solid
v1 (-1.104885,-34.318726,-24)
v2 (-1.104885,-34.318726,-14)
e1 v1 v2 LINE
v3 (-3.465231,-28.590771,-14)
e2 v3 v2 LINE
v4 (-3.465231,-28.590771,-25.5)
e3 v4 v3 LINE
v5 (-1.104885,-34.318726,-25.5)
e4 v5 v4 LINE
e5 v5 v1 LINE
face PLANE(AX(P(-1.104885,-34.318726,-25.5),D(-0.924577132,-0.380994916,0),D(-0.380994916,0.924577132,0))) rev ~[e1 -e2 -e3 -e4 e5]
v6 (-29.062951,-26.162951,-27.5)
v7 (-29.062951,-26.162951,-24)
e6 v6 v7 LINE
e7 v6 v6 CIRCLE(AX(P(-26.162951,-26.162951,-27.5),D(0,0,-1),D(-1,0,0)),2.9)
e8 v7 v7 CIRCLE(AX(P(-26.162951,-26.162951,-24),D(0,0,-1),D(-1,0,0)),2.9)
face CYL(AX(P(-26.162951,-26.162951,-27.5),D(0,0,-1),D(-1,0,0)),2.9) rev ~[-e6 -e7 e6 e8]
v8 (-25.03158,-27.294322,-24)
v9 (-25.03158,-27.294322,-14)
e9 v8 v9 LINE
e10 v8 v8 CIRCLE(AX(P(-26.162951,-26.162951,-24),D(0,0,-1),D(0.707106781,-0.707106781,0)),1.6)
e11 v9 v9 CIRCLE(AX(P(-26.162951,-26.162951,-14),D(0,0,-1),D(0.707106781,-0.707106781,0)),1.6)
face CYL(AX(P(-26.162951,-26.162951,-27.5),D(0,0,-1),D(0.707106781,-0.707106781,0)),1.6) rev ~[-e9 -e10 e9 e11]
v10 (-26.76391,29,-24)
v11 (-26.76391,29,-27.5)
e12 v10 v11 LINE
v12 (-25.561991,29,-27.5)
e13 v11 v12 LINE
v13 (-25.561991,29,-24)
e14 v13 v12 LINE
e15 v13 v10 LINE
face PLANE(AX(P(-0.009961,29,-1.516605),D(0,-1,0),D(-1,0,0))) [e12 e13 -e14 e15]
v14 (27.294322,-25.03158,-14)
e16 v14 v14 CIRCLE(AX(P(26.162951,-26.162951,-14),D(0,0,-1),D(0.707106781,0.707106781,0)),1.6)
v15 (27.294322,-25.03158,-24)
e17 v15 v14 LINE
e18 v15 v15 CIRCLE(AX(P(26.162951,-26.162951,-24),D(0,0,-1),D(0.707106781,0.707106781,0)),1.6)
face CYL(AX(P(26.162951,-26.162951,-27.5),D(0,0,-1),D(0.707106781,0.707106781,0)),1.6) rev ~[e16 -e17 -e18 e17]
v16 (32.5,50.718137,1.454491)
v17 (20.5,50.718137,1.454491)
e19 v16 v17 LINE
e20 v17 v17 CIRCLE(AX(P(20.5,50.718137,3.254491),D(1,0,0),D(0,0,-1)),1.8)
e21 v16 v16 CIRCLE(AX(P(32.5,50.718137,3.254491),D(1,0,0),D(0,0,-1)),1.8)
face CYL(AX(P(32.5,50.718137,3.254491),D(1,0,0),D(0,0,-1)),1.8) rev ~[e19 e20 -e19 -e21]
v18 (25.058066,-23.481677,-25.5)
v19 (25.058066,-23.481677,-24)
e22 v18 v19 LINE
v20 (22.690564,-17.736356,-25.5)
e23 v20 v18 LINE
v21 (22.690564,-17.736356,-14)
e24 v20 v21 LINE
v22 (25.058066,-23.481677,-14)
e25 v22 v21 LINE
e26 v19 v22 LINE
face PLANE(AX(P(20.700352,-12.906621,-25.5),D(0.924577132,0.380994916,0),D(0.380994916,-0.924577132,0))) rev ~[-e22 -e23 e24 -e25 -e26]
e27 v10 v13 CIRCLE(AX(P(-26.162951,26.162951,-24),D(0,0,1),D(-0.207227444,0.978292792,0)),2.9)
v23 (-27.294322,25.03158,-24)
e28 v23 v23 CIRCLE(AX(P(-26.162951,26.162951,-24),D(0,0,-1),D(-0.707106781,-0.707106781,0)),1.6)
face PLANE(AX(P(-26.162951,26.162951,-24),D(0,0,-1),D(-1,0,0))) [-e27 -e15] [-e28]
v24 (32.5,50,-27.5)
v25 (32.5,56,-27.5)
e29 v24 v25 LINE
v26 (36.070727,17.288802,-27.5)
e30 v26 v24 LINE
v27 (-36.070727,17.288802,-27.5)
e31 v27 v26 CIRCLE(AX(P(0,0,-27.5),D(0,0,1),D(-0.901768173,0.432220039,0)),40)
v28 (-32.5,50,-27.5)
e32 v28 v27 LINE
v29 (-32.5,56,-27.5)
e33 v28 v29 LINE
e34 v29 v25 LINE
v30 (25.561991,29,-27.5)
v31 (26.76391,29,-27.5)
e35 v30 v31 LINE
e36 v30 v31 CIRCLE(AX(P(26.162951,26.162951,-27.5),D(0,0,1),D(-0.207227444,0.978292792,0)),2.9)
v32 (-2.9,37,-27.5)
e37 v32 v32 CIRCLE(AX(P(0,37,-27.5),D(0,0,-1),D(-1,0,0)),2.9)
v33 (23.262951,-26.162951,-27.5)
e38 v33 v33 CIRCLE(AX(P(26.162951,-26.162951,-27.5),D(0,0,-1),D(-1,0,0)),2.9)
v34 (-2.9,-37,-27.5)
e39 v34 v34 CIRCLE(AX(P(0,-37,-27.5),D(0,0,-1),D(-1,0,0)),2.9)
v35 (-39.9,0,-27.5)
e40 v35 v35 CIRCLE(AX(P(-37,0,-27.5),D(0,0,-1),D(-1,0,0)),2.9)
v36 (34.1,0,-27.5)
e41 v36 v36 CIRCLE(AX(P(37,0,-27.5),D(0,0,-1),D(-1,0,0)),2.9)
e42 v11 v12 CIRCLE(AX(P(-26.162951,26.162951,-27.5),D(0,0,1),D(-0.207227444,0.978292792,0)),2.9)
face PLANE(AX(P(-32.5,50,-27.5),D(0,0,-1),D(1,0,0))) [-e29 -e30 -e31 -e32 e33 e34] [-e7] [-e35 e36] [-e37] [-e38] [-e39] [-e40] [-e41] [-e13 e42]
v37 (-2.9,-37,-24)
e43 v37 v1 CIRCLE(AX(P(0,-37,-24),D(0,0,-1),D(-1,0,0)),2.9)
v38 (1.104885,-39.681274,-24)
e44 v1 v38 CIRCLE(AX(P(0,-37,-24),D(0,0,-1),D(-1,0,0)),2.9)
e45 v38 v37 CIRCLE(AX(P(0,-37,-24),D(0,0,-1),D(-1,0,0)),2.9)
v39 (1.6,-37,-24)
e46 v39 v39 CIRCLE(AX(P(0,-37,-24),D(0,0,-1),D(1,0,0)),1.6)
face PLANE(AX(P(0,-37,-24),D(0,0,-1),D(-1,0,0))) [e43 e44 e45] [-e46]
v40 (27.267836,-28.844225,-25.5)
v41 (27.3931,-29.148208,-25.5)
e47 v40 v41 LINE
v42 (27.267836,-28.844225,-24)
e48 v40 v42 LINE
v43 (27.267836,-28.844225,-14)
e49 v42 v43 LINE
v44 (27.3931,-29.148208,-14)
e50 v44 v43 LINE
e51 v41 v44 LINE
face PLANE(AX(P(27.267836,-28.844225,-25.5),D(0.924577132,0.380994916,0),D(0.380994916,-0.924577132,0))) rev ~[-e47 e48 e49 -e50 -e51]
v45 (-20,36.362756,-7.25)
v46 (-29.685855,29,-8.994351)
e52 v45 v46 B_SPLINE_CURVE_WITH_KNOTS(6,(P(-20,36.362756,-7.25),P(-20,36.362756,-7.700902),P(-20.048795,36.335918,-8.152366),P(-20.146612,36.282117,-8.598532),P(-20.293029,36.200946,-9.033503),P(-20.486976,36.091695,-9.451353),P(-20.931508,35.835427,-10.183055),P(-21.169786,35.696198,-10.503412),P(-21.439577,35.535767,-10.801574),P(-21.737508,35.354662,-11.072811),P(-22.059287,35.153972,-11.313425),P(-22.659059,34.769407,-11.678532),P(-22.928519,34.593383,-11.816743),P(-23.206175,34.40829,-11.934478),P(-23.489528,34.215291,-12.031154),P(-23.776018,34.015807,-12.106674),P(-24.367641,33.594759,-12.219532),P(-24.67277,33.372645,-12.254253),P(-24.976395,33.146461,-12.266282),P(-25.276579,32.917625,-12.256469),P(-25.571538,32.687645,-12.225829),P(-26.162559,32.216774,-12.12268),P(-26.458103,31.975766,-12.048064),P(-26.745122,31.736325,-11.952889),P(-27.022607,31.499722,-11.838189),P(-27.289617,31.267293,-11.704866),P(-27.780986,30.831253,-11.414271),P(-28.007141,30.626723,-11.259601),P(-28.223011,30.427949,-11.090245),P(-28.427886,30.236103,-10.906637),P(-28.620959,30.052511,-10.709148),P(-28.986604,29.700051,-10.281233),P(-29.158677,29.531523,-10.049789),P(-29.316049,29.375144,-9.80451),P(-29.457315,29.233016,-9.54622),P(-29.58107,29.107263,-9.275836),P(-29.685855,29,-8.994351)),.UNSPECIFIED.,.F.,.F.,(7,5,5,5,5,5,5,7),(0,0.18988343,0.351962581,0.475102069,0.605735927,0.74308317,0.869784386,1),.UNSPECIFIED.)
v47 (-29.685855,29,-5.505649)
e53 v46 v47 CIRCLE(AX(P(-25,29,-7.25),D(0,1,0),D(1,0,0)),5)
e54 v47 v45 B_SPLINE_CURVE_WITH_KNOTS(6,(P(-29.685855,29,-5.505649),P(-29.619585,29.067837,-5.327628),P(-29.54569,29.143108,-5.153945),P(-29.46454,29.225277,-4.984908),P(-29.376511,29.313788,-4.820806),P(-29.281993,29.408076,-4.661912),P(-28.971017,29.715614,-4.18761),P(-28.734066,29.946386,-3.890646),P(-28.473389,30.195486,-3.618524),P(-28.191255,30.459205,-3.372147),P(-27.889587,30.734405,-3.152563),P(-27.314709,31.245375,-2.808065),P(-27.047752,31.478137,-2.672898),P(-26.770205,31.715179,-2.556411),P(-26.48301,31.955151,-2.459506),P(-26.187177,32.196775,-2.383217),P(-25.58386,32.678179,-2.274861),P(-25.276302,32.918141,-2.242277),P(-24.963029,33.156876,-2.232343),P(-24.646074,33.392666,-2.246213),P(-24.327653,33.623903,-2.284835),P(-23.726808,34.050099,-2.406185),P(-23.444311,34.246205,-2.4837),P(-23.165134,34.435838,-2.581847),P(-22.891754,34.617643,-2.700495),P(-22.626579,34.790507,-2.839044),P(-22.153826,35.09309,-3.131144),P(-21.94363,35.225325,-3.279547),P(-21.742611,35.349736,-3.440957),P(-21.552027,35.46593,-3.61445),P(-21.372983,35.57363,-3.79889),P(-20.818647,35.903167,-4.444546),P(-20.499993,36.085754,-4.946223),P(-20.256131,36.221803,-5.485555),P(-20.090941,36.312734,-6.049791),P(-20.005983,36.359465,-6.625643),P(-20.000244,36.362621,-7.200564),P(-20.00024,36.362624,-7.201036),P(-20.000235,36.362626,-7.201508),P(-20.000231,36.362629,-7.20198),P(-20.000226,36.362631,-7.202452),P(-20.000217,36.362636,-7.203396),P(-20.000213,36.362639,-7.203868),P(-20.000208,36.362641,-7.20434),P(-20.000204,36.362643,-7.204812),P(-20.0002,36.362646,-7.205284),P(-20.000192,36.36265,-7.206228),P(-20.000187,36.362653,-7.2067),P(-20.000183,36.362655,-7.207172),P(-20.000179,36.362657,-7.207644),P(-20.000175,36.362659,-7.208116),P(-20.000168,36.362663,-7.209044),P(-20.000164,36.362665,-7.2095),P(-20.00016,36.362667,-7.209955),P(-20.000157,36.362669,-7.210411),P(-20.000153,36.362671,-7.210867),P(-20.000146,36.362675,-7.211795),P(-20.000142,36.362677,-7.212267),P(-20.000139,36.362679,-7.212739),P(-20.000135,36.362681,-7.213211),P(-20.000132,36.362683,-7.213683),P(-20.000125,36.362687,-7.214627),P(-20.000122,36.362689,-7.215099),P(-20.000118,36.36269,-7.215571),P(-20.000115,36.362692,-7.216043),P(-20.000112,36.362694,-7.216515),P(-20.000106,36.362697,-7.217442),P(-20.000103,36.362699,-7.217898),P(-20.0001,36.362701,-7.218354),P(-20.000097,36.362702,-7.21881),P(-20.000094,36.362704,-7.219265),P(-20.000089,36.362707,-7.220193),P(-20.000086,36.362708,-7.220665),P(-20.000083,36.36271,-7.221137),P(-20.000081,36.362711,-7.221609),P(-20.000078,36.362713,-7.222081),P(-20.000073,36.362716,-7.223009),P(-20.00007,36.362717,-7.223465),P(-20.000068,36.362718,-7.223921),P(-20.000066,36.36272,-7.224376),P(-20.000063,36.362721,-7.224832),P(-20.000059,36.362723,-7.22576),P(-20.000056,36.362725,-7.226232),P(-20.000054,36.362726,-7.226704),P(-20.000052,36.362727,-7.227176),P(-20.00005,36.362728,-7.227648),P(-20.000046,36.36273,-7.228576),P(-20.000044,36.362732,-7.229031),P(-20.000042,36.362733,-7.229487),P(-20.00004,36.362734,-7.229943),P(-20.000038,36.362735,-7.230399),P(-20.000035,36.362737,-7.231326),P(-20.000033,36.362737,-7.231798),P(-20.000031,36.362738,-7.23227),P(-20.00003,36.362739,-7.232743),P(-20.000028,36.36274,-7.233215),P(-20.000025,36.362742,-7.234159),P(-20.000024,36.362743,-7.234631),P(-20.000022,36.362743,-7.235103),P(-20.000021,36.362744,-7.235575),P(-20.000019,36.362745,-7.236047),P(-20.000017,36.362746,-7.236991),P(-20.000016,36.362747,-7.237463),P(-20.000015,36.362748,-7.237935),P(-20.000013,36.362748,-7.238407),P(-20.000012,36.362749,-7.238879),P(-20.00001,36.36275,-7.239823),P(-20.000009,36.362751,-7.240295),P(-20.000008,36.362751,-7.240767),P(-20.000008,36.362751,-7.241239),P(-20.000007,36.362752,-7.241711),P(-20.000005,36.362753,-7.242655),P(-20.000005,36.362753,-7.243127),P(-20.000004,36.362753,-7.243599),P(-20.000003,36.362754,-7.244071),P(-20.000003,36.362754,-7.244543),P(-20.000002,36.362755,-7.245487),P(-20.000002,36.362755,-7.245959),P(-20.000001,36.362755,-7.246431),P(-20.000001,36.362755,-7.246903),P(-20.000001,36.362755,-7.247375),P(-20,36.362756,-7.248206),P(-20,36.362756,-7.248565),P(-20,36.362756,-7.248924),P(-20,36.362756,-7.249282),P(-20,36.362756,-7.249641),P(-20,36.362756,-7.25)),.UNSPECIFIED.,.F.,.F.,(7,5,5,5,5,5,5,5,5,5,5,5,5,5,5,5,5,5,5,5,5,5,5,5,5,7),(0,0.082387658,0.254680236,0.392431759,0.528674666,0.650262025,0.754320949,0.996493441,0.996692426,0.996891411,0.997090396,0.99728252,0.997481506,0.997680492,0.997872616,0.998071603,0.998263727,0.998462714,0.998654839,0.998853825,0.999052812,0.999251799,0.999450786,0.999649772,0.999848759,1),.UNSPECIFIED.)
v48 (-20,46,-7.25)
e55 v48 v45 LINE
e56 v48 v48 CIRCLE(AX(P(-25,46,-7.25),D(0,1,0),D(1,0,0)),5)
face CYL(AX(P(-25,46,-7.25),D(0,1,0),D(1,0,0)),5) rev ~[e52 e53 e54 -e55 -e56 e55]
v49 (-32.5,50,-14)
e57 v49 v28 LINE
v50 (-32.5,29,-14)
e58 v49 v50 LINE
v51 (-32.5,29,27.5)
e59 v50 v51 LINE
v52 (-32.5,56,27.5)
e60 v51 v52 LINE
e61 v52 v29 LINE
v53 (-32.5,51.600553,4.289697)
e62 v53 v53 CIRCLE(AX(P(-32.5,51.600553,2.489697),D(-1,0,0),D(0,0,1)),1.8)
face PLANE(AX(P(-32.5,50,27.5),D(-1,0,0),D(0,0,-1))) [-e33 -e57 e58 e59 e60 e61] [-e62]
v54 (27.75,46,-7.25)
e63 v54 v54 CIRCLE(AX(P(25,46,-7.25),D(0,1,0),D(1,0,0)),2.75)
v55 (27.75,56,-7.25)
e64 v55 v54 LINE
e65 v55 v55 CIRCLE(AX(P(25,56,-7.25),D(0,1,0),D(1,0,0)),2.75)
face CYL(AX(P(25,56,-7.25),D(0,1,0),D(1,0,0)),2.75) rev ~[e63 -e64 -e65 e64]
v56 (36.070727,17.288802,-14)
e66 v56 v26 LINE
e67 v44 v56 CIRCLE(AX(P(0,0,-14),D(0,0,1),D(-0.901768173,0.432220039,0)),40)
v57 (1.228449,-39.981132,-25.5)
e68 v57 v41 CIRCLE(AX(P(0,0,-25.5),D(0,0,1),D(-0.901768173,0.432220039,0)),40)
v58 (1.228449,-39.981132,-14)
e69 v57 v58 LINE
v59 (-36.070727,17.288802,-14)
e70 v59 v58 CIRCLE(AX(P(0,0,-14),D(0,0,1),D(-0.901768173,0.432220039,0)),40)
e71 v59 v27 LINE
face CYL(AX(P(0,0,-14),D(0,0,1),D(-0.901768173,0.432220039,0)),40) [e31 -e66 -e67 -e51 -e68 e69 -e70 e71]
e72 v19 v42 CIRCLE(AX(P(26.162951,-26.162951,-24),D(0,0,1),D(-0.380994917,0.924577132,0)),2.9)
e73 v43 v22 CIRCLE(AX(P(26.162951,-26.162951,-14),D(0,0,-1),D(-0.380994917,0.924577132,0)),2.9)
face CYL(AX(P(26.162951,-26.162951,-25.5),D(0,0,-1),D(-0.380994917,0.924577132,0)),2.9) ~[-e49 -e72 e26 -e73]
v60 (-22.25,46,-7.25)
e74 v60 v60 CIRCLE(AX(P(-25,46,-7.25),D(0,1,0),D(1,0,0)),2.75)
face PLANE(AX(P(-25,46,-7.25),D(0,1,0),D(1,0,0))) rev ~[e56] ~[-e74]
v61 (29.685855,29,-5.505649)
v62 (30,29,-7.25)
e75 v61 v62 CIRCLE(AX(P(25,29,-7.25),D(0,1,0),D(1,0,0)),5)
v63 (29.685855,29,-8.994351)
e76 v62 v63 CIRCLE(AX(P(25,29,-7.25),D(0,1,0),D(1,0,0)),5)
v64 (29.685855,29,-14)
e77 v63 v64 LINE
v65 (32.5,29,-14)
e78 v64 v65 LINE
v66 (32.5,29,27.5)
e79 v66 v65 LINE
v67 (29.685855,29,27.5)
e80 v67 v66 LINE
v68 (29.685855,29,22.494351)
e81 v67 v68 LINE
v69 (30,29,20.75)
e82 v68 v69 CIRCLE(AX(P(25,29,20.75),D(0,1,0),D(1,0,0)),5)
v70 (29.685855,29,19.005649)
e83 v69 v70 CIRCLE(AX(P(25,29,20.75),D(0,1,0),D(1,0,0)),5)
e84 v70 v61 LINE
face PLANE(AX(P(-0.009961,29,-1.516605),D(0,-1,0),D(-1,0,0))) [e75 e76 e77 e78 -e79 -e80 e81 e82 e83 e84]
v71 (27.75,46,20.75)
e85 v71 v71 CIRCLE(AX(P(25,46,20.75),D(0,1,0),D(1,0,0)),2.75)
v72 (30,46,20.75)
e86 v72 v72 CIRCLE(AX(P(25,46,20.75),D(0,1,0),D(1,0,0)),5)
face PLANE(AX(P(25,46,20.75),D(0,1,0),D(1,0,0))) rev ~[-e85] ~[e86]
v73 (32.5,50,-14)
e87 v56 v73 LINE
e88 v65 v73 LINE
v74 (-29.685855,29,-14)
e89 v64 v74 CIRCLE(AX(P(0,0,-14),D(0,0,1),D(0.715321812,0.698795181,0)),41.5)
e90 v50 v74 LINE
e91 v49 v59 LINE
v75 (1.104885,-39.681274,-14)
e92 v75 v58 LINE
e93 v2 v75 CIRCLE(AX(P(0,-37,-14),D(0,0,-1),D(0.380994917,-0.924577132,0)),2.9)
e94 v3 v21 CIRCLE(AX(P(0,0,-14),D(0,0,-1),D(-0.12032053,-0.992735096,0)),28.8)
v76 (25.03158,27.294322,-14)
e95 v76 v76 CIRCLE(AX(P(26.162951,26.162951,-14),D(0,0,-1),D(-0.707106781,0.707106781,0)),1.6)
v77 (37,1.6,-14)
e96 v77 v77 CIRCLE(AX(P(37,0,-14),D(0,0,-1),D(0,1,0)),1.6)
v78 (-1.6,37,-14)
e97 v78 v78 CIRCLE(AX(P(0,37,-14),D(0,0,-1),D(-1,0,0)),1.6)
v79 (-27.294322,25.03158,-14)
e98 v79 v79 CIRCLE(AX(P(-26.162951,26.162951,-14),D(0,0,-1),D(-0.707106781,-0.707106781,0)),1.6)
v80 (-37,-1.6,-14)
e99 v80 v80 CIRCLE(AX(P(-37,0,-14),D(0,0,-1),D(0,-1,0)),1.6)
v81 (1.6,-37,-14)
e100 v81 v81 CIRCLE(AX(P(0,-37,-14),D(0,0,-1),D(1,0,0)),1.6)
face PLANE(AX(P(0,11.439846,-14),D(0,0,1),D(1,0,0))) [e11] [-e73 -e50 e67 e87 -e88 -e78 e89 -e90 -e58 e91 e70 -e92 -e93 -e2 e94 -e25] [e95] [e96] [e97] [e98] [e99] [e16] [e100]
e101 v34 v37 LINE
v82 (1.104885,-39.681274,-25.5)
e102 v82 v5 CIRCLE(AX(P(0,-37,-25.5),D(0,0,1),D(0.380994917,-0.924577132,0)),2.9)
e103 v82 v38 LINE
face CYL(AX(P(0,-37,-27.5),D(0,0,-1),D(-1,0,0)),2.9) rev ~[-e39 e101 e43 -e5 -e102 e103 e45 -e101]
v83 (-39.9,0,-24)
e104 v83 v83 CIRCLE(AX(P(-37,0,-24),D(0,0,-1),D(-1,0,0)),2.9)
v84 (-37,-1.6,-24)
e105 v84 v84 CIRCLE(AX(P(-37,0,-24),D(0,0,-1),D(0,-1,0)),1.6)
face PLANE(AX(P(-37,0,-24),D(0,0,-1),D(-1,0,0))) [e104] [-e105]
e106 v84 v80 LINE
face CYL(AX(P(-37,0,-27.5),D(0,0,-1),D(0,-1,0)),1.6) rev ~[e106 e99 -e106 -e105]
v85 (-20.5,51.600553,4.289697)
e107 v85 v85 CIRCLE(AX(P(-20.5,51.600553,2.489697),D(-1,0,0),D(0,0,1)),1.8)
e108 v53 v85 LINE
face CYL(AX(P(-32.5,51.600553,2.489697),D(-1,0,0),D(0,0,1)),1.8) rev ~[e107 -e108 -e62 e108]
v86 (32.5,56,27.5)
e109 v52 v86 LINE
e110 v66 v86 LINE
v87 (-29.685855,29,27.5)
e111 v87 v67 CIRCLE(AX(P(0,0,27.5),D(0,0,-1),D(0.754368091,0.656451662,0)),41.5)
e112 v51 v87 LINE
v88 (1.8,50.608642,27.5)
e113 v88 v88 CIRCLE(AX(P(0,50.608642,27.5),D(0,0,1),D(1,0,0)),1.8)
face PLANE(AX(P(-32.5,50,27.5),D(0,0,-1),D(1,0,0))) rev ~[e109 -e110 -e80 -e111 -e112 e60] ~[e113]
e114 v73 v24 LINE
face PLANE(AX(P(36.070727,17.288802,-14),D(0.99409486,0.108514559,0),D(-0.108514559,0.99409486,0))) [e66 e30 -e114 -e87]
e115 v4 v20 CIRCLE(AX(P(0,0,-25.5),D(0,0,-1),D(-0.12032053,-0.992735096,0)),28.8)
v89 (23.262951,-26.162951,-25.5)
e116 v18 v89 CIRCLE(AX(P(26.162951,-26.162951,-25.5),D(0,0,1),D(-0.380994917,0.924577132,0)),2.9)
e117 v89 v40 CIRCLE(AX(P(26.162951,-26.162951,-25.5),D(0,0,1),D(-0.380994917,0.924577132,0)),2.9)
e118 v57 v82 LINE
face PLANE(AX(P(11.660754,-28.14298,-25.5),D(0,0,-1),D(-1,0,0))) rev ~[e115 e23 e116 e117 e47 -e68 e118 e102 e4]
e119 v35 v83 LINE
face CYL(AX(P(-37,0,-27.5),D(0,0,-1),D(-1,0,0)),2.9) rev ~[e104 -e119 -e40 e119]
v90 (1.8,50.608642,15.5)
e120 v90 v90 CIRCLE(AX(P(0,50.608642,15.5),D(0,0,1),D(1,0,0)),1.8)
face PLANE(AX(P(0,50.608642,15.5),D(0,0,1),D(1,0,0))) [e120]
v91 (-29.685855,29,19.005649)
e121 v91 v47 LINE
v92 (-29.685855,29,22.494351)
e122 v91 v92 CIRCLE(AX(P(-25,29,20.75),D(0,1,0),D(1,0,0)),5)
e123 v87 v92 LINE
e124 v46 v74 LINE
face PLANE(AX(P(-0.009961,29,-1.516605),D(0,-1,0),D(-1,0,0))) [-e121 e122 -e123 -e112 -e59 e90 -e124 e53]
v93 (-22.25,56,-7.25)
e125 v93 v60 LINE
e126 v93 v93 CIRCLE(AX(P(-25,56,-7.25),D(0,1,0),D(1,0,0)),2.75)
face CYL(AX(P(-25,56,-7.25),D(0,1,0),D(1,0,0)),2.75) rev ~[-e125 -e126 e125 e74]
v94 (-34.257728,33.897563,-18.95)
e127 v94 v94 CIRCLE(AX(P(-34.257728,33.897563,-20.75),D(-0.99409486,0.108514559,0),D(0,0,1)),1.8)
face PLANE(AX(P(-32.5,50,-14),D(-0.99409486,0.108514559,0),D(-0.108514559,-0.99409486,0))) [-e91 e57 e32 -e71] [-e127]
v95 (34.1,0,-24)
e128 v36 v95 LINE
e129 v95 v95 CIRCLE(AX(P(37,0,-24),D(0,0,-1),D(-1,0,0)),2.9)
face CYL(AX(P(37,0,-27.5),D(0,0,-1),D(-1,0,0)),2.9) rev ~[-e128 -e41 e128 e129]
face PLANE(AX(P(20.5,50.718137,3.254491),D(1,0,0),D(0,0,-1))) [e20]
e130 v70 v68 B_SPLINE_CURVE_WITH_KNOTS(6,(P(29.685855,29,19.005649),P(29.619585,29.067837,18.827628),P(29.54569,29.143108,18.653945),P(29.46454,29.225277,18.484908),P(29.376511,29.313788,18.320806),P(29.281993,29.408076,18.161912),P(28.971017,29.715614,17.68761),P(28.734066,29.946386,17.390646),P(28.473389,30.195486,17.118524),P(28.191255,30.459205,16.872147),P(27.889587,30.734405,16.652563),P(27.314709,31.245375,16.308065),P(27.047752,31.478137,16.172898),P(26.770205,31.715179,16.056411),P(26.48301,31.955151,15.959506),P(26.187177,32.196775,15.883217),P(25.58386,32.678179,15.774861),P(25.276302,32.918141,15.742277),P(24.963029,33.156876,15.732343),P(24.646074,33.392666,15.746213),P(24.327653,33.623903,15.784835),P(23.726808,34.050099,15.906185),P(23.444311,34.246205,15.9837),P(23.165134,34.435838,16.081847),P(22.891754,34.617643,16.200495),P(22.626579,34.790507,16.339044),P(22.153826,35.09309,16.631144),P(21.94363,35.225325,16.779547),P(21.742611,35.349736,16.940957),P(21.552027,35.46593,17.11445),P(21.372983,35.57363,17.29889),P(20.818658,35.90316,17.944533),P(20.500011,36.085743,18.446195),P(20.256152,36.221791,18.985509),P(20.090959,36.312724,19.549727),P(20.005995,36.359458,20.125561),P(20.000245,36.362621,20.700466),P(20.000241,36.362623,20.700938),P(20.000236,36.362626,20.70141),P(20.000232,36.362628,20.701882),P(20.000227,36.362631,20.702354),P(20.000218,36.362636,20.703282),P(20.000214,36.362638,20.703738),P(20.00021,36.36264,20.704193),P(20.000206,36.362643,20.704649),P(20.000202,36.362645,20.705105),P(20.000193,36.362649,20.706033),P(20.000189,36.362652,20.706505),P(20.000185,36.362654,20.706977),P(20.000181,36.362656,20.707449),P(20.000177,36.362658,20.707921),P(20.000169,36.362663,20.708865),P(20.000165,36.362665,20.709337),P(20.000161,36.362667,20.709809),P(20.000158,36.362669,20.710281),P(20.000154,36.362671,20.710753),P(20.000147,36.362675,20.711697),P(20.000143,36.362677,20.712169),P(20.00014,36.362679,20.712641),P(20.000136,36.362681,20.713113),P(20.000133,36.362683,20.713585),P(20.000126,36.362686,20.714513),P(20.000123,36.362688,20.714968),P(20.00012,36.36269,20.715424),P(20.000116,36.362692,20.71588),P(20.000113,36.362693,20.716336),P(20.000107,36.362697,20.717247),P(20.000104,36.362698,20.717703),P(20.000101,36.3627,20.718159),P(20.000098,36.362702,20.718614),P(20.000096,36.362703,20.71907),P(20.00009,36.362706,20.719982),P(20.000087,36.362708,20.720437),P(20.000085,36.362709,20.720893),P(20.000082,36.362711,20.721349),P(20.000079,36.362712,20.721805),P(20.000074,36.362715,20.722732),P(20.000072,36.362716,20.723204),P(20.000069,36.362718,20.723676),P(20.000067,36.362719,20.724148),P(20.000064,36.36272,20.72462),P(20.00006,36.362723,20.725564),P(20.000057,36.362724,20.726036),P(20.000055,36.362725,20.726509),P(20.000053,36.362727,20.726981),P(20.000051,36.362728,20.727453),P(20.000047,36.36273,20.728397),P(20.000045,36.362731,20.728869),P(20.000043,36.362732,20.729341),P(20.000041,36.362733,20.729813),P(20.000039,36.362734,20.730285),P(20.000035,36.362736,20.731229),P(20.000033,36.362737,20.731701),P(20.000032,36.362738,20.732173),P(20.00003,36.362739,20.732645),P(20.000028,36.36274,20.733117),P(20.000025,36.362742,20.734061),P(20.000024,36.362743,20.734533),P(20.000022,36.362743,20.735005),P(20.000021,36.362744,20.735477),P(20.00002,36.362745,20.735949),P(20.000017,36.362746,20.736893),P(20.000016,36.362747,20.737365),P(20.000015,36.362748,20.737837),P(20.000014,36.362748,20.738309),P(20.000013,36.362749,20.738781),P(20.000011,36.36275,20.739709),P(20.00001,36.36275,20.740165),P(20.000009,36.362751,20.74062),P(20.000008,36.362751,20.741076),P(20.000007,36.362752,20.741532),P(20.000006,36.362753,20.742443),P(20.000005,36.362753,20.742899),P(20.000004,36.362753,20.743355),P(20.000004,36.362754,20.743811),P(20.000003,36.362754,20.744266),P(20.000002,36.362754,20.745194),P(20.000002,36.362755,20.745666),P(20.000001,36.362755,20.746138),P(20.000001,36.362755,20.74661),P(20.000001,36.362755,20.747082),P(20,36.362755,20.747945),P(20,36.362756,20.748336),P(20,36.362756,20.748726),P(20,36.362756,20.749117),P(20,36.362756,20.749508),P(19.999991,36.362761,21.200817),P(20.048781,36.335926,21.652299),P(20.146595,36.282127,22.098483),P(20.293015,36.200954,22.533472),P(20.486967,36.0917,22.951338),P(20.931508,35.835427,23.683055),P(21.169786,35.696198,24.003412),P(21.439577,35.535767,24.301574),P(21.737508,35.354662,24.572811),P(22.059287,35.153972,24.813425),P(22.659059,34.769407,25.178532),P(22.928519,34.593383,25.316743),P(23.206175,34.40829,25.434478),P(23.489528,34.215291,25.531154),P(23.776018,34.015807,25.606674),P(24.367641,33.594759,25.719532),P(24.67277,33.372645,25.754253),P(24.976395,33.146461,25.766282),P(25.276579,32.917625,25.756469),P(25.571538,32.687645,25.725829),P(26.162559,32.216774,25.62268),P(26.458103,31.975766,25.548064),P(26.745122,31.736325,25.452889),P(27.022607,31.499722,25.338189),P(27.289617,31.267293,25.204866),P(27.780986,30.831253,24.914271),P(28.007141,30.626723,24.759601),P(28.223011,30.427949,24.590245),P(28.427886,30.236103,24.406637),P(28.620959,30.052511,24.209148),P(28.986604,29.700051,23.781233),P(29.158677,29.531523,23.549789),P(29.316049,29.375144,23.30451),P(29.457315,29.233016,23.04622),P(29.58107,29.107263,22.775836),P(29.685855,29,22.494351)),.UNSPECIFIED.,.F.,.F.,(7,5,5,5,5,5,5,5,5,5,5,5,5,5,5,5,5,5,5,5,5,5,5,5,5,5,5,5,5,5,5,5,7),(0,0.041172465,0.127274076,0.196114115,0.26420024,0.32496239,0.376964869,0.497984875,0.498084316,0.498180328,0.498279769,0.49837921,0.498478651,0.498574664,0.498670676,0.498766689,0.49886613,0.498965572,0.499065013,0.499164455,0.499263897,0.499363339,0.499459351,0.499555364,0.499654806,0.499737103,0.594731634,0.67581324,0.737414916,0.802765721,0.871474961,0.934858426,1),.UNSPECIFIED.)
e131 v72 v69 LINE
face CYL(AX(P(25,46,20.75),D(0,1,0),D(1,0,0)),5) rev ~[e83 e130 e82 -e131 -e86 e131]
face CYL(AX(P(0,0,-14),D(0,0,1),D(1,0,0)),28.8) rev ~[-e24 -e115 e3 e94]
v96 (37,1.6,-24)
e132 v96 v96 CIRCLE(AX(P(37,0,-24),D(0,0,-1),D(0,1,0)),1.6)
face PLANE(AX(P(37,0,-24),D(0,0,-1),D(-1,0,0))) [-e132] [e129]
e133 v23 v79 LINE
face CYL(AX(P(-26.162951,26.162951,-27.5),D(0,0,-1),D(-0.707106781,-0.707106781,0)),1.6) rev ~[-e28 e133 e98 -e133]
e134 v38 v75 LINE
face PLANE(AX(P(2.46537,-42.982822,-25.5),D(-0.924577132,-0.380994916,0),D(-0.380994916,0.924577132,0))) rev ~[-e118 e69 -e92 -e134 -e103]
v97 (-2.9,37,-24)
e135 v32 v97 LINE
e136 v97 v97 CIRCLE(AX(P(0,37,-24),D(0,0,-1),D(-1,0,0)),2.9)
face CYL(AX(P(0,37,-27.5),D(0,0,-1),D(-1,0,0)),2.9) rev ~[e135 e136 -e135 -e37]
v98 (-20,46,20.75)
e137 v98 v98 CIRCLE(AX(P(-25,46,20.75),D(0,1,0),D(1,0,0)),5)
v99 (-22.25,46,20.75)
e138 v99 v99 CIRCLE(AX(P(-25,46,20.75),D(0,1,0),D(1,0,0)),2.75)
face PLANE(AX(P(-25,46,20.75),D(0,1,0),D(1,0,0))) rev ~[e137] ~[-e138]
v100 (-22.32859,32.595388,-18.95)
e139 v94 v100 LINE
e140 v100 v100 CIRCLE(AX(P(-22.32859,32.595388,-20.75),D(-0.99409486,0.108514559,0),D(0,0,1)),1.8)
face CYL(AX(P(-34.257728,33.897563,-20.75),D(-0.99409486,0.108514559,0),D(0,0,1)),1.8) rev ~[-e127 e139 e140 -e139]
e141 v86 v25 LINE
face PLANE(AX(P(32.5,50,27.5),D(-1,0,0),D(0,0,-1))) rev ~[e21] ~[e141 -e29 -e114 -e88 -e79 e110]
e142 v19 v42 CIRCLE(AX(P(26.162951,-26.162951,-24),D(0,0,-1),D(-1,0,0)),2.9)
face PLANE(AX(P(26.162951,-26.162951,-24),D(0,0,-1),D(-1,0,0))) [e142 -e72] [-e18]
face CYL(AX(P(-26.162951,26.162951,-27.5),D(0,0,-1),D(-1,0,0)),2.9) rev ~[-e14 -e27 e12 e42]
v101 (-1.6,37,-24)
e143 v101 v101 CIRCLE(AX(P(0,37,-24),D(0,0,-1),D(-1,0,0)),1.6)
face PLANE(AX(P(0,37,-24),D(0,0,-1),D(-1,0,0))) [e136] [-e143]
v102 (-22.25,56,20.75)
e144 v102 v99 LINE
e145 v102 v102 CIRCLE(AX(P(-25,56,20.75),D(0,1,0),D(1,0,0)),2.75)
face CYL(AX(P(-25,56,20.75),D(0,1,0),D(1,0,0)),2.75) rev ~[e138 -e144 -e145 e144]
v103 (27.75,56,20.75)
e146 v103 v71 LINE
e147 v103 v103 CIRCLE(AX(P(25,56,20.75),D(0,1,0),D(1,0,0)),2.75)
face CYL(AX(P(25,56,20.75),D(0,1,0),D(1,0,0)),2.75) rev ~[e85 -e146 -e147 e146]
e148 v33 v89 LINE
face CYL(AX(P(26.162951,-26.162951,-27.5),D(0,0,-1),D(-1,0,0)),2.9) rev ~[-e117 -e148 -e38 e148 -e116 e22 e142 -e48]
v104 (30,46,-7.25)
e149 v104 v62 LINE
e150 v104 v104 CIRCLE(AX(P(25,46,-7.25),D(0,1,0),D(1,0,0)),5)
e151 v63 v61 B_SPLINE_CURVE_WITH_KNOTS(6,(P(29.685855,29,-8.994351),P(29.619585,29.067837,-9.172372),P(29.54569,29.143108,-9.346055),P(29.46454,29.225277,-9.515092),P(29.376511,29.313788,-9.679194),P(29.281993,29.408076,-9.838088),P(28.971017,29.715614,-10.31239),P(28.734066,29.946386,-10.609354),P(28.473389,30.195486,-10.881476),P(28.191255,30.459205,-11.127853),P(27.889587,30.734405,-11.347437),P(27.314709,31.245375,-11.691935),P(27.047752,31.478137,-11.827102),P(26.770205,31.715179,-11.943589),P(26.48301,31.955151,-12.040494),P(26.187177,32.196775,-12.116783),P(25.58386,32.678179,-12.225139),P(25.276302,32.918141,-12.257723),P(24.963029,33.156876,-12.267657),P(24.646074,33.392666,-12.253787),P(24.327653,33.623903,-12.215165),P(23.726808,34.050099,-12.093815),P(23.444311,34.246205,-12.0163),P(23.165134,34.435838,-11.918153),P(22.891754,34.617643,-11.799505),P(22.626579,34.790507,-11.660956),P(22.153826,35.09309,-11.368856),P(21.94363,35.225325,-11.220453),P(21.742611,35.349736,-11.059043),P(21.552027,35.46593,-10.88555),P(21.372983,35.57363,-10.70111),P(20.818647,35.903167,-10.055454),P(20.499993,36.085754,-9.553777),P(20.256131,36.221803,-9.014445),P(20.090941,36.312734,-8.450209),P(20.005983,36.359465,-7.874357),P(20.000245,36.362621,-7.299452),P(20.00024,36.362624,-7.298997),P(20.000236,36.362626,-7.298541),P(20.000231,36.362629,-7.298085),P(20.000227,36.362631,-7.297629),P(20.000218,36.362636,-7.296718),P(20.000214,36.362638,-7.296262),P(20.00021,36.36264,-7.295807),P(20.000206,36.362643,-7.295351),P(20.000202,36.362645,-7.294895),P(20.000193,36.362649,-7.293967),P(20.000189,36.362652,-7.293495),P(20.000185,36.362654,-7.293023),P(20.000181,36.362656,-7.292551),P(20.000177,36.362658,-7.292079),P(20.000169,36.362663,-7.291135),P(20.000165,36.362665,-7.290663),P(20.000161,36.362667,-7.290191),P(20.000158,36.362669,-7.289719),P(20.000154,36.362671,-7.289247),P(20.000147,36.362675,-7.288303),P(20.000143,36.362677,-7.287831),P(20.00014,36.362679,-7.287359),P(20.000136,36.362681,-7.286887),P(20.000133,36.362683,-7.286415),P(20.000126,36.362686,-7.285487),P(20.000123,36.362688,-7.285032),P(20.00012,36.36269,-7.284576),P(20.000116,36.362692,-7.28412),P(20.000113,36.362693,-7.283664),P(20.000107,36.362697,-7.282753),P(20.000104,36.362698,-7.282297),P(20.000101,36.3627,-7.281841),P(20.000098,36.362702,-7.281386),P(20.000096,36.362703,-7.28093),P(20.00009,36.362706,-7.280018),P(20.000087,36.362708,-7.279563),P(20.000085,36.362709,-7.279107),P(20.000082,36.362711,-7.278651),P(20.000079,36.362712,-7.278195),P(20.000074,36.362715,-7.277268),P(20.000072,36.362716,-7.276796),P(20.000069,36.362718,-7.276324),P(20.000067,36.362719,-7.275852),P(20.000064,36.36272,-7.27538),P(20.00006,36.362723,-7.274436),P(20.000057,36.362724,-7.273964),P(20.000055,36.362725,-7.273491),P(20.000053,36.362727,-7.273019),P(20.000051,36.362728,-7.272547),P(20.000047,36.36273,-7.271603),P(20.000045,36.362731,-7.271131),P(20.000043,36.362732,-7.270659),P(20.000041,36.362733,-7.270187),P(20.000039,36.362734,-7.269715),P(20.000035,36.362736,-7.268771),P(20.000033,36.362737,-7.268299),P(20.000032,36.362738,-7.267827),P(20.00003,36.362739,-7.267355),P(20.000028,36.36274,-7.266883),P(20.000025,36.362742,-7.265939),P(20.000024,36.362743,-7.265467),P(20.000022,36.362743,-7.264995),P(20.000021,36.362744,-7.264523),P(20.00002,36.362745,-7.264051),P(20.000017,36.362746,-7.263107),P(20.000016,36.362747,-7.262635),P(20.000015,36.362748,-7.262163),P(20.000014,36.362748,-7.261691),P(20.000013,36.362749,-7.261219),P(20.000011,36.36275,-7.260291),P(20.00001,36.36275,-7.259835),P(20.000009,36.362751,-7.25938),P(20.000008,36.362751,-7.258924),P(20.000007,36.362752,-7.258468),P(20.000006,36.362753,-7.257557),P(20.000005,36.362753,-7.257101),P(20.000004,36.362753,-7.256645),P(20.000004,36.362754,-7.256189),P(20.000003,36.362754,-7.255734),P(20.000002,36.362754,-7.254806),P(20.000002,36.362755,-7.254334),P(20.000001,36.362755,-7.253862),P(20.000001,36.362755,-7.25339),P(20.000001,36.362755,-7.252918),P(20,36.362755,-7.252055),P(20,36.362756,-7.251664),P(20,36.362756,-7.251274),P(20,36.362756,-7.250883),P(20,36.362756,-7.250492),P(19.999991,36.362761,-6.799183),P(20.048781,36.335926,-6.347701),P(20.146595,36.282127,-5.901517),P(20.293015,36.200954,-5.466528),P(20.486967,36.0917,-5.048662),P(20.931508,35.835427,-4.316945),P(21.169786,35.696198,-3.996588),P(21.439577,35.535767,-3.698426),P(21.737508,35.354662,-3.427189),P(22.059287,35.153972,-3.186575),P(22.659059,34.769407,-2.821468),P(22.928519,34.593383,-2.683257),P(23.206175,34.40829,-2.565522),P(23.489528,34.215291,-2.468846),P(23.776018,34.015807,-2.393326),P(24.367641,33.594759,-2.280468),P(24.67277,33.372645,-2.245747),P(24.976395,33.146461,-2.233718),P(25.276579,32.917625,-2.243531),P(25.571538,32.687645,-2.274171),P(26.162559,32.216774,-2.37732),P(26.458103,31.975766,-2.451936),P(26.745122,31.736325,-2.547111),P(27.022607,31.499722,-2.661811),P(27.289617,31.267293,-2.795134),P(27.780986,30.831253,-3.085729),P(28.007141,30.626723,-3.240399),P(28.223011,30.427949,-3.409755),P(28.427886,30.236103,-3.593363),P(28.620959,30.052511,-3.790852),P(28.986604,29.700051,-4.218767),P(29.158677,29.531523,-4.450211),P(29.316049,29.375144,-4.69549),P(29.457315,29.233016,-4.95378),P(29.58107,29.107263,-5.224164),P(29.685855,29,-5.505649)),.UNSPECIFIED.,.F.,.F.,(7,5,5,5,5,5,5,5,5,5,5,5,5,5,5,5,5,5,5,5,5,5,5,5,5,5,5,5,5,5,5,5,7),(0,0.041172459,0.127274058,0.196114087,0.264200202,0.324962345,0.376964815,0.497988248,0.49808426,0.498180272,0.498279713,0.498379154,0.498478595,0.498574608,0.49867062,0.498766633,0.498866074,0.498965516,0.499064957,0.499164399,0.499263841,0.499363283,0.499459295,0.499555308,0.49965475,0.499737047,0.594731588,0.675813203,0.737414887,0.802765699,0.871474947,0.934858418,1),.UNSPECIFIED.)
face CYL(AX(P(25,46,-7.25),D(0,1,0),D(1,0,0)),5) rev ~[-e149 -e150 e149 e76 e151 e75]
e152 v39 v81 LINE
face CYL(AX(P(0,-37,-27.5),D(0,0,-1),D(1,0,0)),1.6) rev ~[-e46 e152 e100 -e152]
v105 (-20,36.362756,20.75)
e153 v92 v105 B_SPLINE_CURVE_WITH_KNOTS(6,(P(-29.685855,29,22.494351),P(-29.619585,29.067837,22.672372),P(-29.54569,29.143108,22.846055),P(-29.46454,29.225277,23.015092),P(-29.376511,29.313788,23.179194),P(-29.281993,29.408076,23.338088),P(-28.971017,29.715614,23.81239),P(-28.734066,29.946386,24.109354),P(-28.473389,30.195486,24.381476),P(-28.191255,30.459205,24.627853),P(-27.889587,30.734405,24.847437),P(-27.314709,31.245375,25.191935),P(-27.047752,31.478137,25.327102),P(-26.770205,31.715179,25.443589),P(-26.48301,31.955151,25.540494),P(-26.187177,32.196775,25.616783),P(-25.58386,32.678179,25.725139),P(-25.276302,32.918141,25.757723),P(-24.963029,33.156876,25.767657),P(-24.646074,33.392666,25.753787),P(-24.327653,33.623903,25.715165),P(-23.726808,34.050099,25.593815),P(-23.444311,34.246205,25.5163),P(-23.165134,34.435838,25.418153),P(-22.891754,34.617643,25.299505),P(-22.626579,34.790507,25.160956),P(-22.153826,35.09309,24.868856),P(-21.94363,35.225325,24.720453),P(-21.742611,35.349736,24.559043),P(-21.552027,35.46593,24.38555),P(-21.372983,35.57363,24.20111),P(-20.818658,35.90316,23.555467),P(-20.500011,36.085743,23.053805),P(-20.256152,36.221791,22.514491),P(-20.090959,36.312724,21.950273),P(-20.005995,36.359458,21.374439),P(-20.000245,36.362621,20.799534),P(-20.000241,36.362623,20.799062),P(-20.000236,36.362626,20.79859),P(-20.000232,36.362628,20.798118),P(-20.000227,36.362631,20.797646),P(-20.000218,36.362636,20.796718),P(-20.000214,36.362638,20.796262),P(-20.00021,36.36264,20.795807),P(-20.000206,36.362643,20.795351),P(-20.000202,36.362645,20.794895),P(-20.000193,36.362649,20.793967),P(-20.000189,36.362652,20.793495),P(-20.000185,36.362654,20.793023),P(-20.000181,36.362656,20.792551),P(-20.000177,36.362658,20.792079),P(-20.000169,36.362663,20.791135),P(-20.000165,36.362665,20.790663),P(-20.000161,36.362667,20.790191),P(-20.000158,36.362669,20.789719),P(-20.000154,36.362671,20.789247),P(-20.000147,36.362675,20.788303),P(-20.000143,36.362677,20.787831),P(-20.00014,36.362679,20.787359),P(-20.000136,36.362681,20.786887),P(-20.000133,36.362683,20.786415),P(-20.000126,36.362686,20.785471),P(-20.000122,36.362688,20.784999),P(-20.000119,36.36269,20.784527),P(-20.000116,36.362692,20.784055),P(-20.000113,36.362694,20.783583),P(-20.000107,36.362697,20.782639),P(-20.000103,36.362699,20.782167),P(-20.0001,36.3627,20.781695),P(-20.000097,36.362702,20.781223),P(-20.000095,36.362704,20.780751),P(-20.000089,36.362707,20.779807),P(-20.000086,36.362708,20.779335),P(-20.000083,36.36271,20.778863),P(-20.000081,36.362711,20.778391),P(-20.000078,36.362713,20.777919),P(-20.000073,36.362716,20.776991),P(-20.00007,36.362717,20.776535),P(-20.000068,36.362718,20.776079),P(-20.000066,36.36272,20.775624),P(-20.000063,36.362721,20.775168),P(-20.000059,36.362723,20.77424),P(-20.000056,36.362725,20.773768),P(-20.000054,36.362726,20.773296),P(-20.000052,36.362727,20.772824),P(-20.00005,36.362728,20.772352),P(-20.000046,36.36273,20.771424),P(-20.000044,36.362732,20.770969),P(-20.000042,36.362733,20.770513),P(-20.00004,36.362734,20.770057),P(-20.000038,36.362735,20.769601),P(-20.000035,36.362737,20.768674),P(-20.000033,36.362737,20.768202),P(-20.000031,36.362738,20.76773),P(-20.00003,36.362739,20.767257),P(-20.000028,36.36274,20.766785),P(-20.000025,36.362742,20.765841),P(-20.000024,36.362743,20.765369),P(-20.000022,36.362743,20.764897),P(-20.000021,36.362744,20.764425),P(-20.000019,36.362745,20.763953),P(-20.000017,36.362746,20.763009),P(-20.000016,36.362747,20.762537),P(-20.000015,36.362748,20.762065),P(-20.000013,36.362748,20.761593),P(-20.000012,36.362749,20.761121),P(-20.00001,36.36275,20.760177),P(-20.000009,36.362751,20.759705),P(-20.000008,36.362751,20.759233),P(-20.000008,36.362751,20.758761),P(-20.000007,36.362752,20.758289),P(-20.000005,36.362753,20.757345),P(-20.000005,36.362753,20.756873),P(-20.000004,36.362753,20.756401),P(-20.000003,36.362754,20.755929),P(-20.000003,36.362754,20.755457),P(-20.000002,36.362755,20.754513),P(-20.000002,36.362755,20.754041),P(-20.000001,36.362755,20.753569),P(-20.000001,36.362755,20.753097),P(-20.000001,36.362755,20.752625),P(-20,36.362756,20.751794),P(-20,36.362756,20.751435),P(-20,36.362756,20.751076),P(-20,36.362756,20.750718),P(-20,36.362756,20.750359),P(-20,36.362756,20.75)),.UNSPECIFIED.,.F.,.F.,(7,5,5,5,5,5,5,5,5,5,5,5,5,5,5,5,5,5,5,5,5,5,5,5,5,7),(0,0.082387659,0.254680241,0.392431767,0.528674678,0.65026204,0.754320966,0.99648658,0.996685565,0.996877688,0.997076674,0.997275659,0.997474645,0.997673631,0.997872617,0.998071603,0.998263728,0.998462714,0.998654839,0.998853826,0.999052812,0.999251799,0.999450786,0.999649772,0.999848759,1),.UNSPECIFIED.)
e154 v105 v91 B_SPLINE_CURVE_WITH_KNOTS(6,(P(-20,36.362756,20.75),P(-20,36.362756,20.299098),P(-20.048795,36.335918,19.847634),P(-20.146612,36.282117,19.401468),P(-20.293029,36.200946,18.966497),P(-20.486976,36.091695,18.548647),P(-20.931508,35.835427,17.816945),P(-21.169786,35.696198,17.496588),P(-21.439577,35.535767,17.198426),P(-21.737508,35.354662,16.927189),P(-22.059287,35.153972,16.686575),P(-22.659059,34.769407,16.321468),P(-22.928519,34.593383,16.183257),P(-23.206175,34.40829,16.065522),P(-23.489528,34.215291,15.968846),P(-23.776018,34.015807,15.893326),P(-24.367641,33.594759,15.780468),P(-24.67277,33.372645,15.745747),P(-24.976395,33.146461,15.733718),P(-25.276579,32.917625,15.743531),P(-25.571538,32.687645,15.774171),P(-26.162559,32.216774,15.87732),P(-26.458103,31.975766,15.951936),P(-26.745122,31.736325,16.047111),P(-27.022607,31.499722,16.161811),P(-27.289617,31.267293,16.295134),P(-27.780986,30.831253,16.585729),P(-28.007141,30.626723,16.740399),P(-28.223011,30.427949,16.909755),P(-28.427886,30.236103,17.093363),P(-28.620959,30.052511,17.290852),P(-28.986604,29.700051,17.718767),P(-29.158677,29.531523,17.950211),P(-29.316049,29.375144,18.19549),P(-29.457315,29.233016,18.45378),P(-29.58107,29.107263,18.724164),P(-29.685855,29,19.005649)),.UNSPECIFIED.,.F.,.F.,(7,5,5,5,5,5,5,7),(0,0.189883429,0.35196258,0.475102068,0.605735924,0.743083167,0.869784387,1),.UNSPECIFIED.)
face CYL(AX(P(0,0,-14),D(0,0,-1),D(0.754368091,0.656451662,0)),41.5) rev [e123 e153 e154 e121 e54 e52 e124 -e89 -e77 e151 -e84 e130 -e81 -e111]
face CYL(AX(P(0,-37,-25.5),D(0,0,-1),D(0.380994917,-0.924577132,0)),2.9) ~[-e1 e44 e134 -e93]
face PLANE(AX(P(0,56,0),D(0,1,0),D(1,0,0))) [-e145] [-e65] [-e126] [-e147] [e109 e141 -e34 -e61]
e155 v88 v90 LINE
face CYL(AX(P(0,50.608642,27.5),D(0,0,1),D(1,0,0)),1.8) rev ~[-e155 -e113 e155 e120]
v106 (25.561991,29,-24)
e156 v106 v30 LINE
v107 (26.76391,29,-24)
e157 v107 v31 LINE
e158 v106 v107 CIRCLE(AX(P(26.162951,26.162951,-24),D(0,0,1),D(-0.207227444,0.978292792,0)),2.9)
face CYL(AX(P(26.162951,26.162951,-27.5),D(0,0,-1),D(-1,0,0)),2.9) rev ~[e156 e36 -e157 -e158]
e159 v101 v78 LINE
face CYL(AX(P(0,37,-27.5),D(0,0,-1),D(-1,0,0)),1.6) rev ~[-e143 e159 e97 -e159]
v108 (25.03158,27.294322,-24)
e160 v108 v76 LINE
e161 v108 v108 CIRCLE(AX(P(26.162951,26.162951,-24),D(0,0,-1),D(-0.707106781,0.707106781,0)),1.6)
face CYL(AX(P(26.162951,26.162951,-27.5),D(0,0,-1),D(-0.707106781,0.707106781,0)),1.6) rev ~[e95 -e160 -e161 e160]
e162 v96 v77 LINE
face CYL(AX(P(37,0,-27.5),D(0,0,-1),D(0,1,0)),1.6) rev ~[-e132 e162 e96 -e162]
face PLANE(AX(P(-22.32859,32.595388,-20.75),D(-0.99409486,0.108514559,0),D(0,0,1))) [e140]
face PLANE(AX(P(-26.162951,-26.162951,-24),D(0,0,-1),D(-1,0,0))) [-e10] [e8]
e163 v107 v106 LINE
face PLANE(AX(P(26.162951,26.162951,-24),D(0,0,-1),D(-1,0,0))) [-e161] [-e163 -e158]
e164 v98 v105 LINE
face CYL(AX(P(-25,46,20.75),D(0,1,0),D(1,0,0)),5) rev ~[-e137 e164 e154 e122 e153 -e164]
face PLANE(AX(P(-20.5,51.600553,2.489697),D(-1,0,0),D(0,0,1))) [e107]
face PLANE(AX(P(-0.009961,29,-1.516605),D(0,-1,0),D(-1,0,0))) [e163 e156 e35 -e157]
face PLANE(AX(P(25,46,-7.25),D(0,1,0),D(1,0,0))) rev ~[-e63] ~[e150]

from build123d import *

# Parameters (mm, degrees)
EXTRUDE_1_DEPTH          = 13.5
SKETCH_2_R               = 28.8
CUT_EXTRUDE_1_DEPTH      = 11.5
SKETCH_3_R               = 1.6
CUT_EXTRUDE_2_DEPTH      = 14.5
SKETCH_6_R               = 2.9
CUT_EXTRUDE_6_DEPTH      = 3.5
PATTERN_CIRCULAR_3_COUNT = 8
EXTRUDE_2_DEPTH          = 10
EXTRUDE_2_DEPTH_BACK     = 11
CUT_EXTRUDE_7_DEPTH      = 42.5
SKETCH_25_W              = 65
SKETCH_25_H              = 55
EXTRUDE_4_DEPTH          = 6
SKETCH_33_R              = 2.75
CUT_EXTRUDE_14_DEPTH     = 97
SKETCH_34_R              = 5
CUT_EXTRUDE_15_DEPTH     = 87
CUT_EXTRUDE_16_DEPTH     = 54.0000001
SKETCH_40_R              = 1.8
CUT_EXTRUDE_18_DEPTH     = 12
SKETCH_41_R              = 1.8
CUT_EXTRUDE_19_DEPTH     = 12
SKETCH_42_R              = 1.8
CUT_EXTRUDE_20_DEPTH     = 12
SKETCH_43_R              = 1.8
CUT_EXTRUDE_21_DEPTH     = 12


with BuildPart() as part:
    # 草图1 → 凸台-拉伸1 (new body)
    with BuildSketch(Plane.XY.offset(-14)):
        with BuildLine():
            Line((36.070726916, 17.288801572), (32.5, 50))
            Line((32.5, 50), (-32.5, 50))
            Line((-32.5, 50), (-36.070726916, 17.288801572))
            ThreePointArc((-36.070726916, 17.288801572), (0, -40), (36.070726916, 17.288801572))
        make_face()
    extrude(amount=-EXTRUDE_1_DEPTH)

    # 草图2 → 切除-拉伸1 (cut)
    with BuildSketch(Plane.XY.offset(-14)):
        Circle(SKETCH_2_R)
    extrude(amount=-CUT_EXTRUDE_1_DEPTH, mode=Mode.SUBTRACT)

    # 草图3 → 切除-拉伸2 (cut, through all)
    with BuildSketch(Plane(origin=(0, 0, -27.5), x_dir=(-1, 0, 0), z_dir=(0, 0, -1))):
        with Locations((0, 37)):
            Circle(SKETCH_3_R)
    cut_extrude_2 = extrude(amount=-CUT_EXTRUDE_2_DEPTH, mode=Mode.SUBTRACT)

    # 草图6 → 切除-拉伸6 (cut)
    with BuildSketch(Plane(origin=(0, 0, -27.5), x_dir=(-1, 0, 0), z_dir=(0, 0, -1))):
        with Locations((0, 37)):
            Circle(SKETCH_6_R)
        with Locations((26.162950904, 26.162950904)):
            Circle(SKETCH_6_R)
        with Locations((37, 0)):
            Circle(SKETCH_6_R)
        with Locations((26.162950904, -26.162950904)):
            Circle(SKETCH_6_R)
        with Locations((-37, 0)):
            Circle(SKETCH_6_R)
        with Locations((-26.162950904, 26.162950904)):
            Circle(SKETCH_6_R)
        with Locations((0, -37)):
            Circle(SKETCH_6_R)
        with Locations((-26.162950904, -26.162950904)):
            Circle(SKETCH_6_R)
    extrude(amount=-CUT_EXTRUDE_6_DEPTH, mode=Mode.SUBTRACT)

    # 阵列(圆周)3: 切除-拉伸2 ×8 about axis
    pattern_circular_3_axis = Axis((0, 0, 0), (0, 0, 1))
    for i in range(1, PATTERN_CIRCULAR_3_COUNT):
        add(cut_extrude_2.rotate(pattern_circular_3_axis, i * 360 / PATTERN_CIRCULAR_3_COUNT), mode=Mode.SUBTRACT)



with BuildPart() as body_2:
    # 草图7 → 凸台-拉伸2 (new body, two sides)
    with BuildSketch(Plane(origin=(0, 40, 0), x_dir=(1, 0, 0), z_dir=(0, 1, 0))) as extrude_2_sk:
        Polygon((-32.5, 0), (-32.5, 16.283385264), (-32.5, 27.5), (-5.850968587, 27.5), (-5.850968587, 14), (5.653955786, 14), (5.653955786, 27.5), (32.5, 27.5), (32.5, 16.283385264), (32.5, 0), (32.5, -27.5), (0, -27.5), (-32.5, -27.5), align=None)
    extrude(amount=EXTRUDE_2_DEPTH)
    extrude(extrude_2_sk.sketch, amount=-EXTRUDE_2_DEPTH_BACK)

    # 草图9 → 切除-拉伸7 (cut, through all)
    with BuildSketch(Plane.XY.offset(-14)):
        with BuildLine():
            Line((-31.306275756, 27.242743956), (31.306275756, 27.242743956))
            ThreePointArc((31.306275756, 27.242743956), (0, 41.5), (-31.306275756, 27.242743956))
        make_face()
    extrude(amount=CUT_EXTRUDE_7_DEPTH, mode=Mode.SUBTRACT)


with BuildPart() as part_1:
    add(part.part)

    add(body_2.part)  # 凸台-拉伸4 merges body 2
    # 草图25 → 凸台-拉伸4 (add)
    with BuildSketch(Plane(origin=(0, 50, 0), x_dir=(1, 0, 0), z_dir=(0, 1, 0))):
        Rectangle(SKETCH_25_W, SKETCH_25_H)
    extrude(amount=EXTRUDE_4_DEPTH)

    # 草图33 → 切除-拉伸14 (cut, through all)
    with BuildSketch(Plane(origin=(0, 56, 0), x_dir=(1, 0, 0), z_dir=(0, 1, 0))):
        with Locations((-25, 7.25)):
            Circle(SKETCH_33_R)
        with Locations((25, 7.25)):
            Circle(SKETCH_33_R)
        with Locations((-25, -20.75)):
            Circle(SKETCH_33_R)
        with Locations((25, -20.75)):
            Circle(SKETCH_33_R)
    extrude(amount=-CUT_EXTRUDE_14_DEPTH, mode=Mode.SUBTRACT)

    # 草图34 → 切除-拉伸15 (cut, through all)
    with BuildSketch(Plane(origin=(0, 46, 0), x_dir=(1, 0, 0), z_dir=(0, 1, 0))):
        with Locations((-25, 7.25)):
            Circle(SKETCH_34_R)
        with Locations((25, 7.25)):
            Circle(SKETCH_34_R)
        with Locations((-25, -20.75)):
            Circle(SKETCH_34_R)
        with Locations((25, -20.75)):
            Circle(SKETCH_34_R)
    extrude(amount=-CUT_EXTRUDE_15_DEPTH, mode=Mode.SUBTRACT)

    # 草图35 → 切除-拉伸16 (cut, through all)
    with BuildSketch(Plane.XY.offset(-25.5)):
        with BuildLine():
            Line((-5.482310635, -23.69583549), (20.700351605, -12.906620763))
            Line((20.700351605, -12.906620763), (25.058065646, -23.48167722))
            ThreePointArc((25.058065646, -23.48167722), (23.48167722, -27.267836162), (27.267836162, -28.844224588))
            Line((27.267836162, -28.844224588), (28.638176696, -32.169690276))
            Line((28.638176696, -32.169690276), (2.465370124, -42.982822188))
            Line((2.465370124, -42.982822188), (1.104885258, -39.681273684))
            ThreePointArc((1.104885258, -39.681273684), (2.681273684, -35.895114742), (-1.104885258, -34.318726316))
            Line((-1.104885258, -34.318726316), (-5.482310635, -23.69583549))
        make_face()
    extrude(amount=CUT_EXTRUDE_16_DEPTH, mode=Mode.SUBTRACT)

    # 草图40 → 切除-拉伸18 (cut)
    with BuildSketch(Plane.XY.offset(27.5)):
        with Locations((0, 50.608642373)):
            Circle(SKETCH_40_R)
    extrude(amount=-CUT_EXTRUDE_18_DEPTH, mode=Mode.SUBTRACT)

    # 草图41 → 切除-拉伸19 (cut)
    with BuildSketch(Plane(origin=(-37.510987458, 4.09466785, 0), x_dir=(0, 0, 1), z_dir=(-0.99409486, 0.108514559, 0))):
        with Locations((-20.75, 29.979930787)):
            Circle(SKETCH_41_R)
    extrude(amount=-CUT_EXTRUDE_19_DEPTH, mode=Mode.SUBTRACT)

    # 草图42 → 切除-拉伸20 (cut)
    with BuildSketch(Plane(origin=(32.5, 0, 0), x_dir=(0, 0, -1), z_dir=(1, 0, 0))):
        with Locations((-3.254490718, 50.718137082)):
            Circle(SKETCH_42_R)
    extrude(amount=-CUT_EXTRUDE_20_DEPTH, mode=Mode.SUBTRACT)

    # 草图43 → 切除-拉伸21 (cut)
    with BuildSketch(Plane.ZY.offset(32.5)):
        with Locations((2.489697323, 51.600552718)):
            Circle(SKETCH_43_R)
    extrude(amount=-CUT_EXTRUDE_21_DEPTH, mode=Mode.SUBTRACT)


solid = part_1.part
